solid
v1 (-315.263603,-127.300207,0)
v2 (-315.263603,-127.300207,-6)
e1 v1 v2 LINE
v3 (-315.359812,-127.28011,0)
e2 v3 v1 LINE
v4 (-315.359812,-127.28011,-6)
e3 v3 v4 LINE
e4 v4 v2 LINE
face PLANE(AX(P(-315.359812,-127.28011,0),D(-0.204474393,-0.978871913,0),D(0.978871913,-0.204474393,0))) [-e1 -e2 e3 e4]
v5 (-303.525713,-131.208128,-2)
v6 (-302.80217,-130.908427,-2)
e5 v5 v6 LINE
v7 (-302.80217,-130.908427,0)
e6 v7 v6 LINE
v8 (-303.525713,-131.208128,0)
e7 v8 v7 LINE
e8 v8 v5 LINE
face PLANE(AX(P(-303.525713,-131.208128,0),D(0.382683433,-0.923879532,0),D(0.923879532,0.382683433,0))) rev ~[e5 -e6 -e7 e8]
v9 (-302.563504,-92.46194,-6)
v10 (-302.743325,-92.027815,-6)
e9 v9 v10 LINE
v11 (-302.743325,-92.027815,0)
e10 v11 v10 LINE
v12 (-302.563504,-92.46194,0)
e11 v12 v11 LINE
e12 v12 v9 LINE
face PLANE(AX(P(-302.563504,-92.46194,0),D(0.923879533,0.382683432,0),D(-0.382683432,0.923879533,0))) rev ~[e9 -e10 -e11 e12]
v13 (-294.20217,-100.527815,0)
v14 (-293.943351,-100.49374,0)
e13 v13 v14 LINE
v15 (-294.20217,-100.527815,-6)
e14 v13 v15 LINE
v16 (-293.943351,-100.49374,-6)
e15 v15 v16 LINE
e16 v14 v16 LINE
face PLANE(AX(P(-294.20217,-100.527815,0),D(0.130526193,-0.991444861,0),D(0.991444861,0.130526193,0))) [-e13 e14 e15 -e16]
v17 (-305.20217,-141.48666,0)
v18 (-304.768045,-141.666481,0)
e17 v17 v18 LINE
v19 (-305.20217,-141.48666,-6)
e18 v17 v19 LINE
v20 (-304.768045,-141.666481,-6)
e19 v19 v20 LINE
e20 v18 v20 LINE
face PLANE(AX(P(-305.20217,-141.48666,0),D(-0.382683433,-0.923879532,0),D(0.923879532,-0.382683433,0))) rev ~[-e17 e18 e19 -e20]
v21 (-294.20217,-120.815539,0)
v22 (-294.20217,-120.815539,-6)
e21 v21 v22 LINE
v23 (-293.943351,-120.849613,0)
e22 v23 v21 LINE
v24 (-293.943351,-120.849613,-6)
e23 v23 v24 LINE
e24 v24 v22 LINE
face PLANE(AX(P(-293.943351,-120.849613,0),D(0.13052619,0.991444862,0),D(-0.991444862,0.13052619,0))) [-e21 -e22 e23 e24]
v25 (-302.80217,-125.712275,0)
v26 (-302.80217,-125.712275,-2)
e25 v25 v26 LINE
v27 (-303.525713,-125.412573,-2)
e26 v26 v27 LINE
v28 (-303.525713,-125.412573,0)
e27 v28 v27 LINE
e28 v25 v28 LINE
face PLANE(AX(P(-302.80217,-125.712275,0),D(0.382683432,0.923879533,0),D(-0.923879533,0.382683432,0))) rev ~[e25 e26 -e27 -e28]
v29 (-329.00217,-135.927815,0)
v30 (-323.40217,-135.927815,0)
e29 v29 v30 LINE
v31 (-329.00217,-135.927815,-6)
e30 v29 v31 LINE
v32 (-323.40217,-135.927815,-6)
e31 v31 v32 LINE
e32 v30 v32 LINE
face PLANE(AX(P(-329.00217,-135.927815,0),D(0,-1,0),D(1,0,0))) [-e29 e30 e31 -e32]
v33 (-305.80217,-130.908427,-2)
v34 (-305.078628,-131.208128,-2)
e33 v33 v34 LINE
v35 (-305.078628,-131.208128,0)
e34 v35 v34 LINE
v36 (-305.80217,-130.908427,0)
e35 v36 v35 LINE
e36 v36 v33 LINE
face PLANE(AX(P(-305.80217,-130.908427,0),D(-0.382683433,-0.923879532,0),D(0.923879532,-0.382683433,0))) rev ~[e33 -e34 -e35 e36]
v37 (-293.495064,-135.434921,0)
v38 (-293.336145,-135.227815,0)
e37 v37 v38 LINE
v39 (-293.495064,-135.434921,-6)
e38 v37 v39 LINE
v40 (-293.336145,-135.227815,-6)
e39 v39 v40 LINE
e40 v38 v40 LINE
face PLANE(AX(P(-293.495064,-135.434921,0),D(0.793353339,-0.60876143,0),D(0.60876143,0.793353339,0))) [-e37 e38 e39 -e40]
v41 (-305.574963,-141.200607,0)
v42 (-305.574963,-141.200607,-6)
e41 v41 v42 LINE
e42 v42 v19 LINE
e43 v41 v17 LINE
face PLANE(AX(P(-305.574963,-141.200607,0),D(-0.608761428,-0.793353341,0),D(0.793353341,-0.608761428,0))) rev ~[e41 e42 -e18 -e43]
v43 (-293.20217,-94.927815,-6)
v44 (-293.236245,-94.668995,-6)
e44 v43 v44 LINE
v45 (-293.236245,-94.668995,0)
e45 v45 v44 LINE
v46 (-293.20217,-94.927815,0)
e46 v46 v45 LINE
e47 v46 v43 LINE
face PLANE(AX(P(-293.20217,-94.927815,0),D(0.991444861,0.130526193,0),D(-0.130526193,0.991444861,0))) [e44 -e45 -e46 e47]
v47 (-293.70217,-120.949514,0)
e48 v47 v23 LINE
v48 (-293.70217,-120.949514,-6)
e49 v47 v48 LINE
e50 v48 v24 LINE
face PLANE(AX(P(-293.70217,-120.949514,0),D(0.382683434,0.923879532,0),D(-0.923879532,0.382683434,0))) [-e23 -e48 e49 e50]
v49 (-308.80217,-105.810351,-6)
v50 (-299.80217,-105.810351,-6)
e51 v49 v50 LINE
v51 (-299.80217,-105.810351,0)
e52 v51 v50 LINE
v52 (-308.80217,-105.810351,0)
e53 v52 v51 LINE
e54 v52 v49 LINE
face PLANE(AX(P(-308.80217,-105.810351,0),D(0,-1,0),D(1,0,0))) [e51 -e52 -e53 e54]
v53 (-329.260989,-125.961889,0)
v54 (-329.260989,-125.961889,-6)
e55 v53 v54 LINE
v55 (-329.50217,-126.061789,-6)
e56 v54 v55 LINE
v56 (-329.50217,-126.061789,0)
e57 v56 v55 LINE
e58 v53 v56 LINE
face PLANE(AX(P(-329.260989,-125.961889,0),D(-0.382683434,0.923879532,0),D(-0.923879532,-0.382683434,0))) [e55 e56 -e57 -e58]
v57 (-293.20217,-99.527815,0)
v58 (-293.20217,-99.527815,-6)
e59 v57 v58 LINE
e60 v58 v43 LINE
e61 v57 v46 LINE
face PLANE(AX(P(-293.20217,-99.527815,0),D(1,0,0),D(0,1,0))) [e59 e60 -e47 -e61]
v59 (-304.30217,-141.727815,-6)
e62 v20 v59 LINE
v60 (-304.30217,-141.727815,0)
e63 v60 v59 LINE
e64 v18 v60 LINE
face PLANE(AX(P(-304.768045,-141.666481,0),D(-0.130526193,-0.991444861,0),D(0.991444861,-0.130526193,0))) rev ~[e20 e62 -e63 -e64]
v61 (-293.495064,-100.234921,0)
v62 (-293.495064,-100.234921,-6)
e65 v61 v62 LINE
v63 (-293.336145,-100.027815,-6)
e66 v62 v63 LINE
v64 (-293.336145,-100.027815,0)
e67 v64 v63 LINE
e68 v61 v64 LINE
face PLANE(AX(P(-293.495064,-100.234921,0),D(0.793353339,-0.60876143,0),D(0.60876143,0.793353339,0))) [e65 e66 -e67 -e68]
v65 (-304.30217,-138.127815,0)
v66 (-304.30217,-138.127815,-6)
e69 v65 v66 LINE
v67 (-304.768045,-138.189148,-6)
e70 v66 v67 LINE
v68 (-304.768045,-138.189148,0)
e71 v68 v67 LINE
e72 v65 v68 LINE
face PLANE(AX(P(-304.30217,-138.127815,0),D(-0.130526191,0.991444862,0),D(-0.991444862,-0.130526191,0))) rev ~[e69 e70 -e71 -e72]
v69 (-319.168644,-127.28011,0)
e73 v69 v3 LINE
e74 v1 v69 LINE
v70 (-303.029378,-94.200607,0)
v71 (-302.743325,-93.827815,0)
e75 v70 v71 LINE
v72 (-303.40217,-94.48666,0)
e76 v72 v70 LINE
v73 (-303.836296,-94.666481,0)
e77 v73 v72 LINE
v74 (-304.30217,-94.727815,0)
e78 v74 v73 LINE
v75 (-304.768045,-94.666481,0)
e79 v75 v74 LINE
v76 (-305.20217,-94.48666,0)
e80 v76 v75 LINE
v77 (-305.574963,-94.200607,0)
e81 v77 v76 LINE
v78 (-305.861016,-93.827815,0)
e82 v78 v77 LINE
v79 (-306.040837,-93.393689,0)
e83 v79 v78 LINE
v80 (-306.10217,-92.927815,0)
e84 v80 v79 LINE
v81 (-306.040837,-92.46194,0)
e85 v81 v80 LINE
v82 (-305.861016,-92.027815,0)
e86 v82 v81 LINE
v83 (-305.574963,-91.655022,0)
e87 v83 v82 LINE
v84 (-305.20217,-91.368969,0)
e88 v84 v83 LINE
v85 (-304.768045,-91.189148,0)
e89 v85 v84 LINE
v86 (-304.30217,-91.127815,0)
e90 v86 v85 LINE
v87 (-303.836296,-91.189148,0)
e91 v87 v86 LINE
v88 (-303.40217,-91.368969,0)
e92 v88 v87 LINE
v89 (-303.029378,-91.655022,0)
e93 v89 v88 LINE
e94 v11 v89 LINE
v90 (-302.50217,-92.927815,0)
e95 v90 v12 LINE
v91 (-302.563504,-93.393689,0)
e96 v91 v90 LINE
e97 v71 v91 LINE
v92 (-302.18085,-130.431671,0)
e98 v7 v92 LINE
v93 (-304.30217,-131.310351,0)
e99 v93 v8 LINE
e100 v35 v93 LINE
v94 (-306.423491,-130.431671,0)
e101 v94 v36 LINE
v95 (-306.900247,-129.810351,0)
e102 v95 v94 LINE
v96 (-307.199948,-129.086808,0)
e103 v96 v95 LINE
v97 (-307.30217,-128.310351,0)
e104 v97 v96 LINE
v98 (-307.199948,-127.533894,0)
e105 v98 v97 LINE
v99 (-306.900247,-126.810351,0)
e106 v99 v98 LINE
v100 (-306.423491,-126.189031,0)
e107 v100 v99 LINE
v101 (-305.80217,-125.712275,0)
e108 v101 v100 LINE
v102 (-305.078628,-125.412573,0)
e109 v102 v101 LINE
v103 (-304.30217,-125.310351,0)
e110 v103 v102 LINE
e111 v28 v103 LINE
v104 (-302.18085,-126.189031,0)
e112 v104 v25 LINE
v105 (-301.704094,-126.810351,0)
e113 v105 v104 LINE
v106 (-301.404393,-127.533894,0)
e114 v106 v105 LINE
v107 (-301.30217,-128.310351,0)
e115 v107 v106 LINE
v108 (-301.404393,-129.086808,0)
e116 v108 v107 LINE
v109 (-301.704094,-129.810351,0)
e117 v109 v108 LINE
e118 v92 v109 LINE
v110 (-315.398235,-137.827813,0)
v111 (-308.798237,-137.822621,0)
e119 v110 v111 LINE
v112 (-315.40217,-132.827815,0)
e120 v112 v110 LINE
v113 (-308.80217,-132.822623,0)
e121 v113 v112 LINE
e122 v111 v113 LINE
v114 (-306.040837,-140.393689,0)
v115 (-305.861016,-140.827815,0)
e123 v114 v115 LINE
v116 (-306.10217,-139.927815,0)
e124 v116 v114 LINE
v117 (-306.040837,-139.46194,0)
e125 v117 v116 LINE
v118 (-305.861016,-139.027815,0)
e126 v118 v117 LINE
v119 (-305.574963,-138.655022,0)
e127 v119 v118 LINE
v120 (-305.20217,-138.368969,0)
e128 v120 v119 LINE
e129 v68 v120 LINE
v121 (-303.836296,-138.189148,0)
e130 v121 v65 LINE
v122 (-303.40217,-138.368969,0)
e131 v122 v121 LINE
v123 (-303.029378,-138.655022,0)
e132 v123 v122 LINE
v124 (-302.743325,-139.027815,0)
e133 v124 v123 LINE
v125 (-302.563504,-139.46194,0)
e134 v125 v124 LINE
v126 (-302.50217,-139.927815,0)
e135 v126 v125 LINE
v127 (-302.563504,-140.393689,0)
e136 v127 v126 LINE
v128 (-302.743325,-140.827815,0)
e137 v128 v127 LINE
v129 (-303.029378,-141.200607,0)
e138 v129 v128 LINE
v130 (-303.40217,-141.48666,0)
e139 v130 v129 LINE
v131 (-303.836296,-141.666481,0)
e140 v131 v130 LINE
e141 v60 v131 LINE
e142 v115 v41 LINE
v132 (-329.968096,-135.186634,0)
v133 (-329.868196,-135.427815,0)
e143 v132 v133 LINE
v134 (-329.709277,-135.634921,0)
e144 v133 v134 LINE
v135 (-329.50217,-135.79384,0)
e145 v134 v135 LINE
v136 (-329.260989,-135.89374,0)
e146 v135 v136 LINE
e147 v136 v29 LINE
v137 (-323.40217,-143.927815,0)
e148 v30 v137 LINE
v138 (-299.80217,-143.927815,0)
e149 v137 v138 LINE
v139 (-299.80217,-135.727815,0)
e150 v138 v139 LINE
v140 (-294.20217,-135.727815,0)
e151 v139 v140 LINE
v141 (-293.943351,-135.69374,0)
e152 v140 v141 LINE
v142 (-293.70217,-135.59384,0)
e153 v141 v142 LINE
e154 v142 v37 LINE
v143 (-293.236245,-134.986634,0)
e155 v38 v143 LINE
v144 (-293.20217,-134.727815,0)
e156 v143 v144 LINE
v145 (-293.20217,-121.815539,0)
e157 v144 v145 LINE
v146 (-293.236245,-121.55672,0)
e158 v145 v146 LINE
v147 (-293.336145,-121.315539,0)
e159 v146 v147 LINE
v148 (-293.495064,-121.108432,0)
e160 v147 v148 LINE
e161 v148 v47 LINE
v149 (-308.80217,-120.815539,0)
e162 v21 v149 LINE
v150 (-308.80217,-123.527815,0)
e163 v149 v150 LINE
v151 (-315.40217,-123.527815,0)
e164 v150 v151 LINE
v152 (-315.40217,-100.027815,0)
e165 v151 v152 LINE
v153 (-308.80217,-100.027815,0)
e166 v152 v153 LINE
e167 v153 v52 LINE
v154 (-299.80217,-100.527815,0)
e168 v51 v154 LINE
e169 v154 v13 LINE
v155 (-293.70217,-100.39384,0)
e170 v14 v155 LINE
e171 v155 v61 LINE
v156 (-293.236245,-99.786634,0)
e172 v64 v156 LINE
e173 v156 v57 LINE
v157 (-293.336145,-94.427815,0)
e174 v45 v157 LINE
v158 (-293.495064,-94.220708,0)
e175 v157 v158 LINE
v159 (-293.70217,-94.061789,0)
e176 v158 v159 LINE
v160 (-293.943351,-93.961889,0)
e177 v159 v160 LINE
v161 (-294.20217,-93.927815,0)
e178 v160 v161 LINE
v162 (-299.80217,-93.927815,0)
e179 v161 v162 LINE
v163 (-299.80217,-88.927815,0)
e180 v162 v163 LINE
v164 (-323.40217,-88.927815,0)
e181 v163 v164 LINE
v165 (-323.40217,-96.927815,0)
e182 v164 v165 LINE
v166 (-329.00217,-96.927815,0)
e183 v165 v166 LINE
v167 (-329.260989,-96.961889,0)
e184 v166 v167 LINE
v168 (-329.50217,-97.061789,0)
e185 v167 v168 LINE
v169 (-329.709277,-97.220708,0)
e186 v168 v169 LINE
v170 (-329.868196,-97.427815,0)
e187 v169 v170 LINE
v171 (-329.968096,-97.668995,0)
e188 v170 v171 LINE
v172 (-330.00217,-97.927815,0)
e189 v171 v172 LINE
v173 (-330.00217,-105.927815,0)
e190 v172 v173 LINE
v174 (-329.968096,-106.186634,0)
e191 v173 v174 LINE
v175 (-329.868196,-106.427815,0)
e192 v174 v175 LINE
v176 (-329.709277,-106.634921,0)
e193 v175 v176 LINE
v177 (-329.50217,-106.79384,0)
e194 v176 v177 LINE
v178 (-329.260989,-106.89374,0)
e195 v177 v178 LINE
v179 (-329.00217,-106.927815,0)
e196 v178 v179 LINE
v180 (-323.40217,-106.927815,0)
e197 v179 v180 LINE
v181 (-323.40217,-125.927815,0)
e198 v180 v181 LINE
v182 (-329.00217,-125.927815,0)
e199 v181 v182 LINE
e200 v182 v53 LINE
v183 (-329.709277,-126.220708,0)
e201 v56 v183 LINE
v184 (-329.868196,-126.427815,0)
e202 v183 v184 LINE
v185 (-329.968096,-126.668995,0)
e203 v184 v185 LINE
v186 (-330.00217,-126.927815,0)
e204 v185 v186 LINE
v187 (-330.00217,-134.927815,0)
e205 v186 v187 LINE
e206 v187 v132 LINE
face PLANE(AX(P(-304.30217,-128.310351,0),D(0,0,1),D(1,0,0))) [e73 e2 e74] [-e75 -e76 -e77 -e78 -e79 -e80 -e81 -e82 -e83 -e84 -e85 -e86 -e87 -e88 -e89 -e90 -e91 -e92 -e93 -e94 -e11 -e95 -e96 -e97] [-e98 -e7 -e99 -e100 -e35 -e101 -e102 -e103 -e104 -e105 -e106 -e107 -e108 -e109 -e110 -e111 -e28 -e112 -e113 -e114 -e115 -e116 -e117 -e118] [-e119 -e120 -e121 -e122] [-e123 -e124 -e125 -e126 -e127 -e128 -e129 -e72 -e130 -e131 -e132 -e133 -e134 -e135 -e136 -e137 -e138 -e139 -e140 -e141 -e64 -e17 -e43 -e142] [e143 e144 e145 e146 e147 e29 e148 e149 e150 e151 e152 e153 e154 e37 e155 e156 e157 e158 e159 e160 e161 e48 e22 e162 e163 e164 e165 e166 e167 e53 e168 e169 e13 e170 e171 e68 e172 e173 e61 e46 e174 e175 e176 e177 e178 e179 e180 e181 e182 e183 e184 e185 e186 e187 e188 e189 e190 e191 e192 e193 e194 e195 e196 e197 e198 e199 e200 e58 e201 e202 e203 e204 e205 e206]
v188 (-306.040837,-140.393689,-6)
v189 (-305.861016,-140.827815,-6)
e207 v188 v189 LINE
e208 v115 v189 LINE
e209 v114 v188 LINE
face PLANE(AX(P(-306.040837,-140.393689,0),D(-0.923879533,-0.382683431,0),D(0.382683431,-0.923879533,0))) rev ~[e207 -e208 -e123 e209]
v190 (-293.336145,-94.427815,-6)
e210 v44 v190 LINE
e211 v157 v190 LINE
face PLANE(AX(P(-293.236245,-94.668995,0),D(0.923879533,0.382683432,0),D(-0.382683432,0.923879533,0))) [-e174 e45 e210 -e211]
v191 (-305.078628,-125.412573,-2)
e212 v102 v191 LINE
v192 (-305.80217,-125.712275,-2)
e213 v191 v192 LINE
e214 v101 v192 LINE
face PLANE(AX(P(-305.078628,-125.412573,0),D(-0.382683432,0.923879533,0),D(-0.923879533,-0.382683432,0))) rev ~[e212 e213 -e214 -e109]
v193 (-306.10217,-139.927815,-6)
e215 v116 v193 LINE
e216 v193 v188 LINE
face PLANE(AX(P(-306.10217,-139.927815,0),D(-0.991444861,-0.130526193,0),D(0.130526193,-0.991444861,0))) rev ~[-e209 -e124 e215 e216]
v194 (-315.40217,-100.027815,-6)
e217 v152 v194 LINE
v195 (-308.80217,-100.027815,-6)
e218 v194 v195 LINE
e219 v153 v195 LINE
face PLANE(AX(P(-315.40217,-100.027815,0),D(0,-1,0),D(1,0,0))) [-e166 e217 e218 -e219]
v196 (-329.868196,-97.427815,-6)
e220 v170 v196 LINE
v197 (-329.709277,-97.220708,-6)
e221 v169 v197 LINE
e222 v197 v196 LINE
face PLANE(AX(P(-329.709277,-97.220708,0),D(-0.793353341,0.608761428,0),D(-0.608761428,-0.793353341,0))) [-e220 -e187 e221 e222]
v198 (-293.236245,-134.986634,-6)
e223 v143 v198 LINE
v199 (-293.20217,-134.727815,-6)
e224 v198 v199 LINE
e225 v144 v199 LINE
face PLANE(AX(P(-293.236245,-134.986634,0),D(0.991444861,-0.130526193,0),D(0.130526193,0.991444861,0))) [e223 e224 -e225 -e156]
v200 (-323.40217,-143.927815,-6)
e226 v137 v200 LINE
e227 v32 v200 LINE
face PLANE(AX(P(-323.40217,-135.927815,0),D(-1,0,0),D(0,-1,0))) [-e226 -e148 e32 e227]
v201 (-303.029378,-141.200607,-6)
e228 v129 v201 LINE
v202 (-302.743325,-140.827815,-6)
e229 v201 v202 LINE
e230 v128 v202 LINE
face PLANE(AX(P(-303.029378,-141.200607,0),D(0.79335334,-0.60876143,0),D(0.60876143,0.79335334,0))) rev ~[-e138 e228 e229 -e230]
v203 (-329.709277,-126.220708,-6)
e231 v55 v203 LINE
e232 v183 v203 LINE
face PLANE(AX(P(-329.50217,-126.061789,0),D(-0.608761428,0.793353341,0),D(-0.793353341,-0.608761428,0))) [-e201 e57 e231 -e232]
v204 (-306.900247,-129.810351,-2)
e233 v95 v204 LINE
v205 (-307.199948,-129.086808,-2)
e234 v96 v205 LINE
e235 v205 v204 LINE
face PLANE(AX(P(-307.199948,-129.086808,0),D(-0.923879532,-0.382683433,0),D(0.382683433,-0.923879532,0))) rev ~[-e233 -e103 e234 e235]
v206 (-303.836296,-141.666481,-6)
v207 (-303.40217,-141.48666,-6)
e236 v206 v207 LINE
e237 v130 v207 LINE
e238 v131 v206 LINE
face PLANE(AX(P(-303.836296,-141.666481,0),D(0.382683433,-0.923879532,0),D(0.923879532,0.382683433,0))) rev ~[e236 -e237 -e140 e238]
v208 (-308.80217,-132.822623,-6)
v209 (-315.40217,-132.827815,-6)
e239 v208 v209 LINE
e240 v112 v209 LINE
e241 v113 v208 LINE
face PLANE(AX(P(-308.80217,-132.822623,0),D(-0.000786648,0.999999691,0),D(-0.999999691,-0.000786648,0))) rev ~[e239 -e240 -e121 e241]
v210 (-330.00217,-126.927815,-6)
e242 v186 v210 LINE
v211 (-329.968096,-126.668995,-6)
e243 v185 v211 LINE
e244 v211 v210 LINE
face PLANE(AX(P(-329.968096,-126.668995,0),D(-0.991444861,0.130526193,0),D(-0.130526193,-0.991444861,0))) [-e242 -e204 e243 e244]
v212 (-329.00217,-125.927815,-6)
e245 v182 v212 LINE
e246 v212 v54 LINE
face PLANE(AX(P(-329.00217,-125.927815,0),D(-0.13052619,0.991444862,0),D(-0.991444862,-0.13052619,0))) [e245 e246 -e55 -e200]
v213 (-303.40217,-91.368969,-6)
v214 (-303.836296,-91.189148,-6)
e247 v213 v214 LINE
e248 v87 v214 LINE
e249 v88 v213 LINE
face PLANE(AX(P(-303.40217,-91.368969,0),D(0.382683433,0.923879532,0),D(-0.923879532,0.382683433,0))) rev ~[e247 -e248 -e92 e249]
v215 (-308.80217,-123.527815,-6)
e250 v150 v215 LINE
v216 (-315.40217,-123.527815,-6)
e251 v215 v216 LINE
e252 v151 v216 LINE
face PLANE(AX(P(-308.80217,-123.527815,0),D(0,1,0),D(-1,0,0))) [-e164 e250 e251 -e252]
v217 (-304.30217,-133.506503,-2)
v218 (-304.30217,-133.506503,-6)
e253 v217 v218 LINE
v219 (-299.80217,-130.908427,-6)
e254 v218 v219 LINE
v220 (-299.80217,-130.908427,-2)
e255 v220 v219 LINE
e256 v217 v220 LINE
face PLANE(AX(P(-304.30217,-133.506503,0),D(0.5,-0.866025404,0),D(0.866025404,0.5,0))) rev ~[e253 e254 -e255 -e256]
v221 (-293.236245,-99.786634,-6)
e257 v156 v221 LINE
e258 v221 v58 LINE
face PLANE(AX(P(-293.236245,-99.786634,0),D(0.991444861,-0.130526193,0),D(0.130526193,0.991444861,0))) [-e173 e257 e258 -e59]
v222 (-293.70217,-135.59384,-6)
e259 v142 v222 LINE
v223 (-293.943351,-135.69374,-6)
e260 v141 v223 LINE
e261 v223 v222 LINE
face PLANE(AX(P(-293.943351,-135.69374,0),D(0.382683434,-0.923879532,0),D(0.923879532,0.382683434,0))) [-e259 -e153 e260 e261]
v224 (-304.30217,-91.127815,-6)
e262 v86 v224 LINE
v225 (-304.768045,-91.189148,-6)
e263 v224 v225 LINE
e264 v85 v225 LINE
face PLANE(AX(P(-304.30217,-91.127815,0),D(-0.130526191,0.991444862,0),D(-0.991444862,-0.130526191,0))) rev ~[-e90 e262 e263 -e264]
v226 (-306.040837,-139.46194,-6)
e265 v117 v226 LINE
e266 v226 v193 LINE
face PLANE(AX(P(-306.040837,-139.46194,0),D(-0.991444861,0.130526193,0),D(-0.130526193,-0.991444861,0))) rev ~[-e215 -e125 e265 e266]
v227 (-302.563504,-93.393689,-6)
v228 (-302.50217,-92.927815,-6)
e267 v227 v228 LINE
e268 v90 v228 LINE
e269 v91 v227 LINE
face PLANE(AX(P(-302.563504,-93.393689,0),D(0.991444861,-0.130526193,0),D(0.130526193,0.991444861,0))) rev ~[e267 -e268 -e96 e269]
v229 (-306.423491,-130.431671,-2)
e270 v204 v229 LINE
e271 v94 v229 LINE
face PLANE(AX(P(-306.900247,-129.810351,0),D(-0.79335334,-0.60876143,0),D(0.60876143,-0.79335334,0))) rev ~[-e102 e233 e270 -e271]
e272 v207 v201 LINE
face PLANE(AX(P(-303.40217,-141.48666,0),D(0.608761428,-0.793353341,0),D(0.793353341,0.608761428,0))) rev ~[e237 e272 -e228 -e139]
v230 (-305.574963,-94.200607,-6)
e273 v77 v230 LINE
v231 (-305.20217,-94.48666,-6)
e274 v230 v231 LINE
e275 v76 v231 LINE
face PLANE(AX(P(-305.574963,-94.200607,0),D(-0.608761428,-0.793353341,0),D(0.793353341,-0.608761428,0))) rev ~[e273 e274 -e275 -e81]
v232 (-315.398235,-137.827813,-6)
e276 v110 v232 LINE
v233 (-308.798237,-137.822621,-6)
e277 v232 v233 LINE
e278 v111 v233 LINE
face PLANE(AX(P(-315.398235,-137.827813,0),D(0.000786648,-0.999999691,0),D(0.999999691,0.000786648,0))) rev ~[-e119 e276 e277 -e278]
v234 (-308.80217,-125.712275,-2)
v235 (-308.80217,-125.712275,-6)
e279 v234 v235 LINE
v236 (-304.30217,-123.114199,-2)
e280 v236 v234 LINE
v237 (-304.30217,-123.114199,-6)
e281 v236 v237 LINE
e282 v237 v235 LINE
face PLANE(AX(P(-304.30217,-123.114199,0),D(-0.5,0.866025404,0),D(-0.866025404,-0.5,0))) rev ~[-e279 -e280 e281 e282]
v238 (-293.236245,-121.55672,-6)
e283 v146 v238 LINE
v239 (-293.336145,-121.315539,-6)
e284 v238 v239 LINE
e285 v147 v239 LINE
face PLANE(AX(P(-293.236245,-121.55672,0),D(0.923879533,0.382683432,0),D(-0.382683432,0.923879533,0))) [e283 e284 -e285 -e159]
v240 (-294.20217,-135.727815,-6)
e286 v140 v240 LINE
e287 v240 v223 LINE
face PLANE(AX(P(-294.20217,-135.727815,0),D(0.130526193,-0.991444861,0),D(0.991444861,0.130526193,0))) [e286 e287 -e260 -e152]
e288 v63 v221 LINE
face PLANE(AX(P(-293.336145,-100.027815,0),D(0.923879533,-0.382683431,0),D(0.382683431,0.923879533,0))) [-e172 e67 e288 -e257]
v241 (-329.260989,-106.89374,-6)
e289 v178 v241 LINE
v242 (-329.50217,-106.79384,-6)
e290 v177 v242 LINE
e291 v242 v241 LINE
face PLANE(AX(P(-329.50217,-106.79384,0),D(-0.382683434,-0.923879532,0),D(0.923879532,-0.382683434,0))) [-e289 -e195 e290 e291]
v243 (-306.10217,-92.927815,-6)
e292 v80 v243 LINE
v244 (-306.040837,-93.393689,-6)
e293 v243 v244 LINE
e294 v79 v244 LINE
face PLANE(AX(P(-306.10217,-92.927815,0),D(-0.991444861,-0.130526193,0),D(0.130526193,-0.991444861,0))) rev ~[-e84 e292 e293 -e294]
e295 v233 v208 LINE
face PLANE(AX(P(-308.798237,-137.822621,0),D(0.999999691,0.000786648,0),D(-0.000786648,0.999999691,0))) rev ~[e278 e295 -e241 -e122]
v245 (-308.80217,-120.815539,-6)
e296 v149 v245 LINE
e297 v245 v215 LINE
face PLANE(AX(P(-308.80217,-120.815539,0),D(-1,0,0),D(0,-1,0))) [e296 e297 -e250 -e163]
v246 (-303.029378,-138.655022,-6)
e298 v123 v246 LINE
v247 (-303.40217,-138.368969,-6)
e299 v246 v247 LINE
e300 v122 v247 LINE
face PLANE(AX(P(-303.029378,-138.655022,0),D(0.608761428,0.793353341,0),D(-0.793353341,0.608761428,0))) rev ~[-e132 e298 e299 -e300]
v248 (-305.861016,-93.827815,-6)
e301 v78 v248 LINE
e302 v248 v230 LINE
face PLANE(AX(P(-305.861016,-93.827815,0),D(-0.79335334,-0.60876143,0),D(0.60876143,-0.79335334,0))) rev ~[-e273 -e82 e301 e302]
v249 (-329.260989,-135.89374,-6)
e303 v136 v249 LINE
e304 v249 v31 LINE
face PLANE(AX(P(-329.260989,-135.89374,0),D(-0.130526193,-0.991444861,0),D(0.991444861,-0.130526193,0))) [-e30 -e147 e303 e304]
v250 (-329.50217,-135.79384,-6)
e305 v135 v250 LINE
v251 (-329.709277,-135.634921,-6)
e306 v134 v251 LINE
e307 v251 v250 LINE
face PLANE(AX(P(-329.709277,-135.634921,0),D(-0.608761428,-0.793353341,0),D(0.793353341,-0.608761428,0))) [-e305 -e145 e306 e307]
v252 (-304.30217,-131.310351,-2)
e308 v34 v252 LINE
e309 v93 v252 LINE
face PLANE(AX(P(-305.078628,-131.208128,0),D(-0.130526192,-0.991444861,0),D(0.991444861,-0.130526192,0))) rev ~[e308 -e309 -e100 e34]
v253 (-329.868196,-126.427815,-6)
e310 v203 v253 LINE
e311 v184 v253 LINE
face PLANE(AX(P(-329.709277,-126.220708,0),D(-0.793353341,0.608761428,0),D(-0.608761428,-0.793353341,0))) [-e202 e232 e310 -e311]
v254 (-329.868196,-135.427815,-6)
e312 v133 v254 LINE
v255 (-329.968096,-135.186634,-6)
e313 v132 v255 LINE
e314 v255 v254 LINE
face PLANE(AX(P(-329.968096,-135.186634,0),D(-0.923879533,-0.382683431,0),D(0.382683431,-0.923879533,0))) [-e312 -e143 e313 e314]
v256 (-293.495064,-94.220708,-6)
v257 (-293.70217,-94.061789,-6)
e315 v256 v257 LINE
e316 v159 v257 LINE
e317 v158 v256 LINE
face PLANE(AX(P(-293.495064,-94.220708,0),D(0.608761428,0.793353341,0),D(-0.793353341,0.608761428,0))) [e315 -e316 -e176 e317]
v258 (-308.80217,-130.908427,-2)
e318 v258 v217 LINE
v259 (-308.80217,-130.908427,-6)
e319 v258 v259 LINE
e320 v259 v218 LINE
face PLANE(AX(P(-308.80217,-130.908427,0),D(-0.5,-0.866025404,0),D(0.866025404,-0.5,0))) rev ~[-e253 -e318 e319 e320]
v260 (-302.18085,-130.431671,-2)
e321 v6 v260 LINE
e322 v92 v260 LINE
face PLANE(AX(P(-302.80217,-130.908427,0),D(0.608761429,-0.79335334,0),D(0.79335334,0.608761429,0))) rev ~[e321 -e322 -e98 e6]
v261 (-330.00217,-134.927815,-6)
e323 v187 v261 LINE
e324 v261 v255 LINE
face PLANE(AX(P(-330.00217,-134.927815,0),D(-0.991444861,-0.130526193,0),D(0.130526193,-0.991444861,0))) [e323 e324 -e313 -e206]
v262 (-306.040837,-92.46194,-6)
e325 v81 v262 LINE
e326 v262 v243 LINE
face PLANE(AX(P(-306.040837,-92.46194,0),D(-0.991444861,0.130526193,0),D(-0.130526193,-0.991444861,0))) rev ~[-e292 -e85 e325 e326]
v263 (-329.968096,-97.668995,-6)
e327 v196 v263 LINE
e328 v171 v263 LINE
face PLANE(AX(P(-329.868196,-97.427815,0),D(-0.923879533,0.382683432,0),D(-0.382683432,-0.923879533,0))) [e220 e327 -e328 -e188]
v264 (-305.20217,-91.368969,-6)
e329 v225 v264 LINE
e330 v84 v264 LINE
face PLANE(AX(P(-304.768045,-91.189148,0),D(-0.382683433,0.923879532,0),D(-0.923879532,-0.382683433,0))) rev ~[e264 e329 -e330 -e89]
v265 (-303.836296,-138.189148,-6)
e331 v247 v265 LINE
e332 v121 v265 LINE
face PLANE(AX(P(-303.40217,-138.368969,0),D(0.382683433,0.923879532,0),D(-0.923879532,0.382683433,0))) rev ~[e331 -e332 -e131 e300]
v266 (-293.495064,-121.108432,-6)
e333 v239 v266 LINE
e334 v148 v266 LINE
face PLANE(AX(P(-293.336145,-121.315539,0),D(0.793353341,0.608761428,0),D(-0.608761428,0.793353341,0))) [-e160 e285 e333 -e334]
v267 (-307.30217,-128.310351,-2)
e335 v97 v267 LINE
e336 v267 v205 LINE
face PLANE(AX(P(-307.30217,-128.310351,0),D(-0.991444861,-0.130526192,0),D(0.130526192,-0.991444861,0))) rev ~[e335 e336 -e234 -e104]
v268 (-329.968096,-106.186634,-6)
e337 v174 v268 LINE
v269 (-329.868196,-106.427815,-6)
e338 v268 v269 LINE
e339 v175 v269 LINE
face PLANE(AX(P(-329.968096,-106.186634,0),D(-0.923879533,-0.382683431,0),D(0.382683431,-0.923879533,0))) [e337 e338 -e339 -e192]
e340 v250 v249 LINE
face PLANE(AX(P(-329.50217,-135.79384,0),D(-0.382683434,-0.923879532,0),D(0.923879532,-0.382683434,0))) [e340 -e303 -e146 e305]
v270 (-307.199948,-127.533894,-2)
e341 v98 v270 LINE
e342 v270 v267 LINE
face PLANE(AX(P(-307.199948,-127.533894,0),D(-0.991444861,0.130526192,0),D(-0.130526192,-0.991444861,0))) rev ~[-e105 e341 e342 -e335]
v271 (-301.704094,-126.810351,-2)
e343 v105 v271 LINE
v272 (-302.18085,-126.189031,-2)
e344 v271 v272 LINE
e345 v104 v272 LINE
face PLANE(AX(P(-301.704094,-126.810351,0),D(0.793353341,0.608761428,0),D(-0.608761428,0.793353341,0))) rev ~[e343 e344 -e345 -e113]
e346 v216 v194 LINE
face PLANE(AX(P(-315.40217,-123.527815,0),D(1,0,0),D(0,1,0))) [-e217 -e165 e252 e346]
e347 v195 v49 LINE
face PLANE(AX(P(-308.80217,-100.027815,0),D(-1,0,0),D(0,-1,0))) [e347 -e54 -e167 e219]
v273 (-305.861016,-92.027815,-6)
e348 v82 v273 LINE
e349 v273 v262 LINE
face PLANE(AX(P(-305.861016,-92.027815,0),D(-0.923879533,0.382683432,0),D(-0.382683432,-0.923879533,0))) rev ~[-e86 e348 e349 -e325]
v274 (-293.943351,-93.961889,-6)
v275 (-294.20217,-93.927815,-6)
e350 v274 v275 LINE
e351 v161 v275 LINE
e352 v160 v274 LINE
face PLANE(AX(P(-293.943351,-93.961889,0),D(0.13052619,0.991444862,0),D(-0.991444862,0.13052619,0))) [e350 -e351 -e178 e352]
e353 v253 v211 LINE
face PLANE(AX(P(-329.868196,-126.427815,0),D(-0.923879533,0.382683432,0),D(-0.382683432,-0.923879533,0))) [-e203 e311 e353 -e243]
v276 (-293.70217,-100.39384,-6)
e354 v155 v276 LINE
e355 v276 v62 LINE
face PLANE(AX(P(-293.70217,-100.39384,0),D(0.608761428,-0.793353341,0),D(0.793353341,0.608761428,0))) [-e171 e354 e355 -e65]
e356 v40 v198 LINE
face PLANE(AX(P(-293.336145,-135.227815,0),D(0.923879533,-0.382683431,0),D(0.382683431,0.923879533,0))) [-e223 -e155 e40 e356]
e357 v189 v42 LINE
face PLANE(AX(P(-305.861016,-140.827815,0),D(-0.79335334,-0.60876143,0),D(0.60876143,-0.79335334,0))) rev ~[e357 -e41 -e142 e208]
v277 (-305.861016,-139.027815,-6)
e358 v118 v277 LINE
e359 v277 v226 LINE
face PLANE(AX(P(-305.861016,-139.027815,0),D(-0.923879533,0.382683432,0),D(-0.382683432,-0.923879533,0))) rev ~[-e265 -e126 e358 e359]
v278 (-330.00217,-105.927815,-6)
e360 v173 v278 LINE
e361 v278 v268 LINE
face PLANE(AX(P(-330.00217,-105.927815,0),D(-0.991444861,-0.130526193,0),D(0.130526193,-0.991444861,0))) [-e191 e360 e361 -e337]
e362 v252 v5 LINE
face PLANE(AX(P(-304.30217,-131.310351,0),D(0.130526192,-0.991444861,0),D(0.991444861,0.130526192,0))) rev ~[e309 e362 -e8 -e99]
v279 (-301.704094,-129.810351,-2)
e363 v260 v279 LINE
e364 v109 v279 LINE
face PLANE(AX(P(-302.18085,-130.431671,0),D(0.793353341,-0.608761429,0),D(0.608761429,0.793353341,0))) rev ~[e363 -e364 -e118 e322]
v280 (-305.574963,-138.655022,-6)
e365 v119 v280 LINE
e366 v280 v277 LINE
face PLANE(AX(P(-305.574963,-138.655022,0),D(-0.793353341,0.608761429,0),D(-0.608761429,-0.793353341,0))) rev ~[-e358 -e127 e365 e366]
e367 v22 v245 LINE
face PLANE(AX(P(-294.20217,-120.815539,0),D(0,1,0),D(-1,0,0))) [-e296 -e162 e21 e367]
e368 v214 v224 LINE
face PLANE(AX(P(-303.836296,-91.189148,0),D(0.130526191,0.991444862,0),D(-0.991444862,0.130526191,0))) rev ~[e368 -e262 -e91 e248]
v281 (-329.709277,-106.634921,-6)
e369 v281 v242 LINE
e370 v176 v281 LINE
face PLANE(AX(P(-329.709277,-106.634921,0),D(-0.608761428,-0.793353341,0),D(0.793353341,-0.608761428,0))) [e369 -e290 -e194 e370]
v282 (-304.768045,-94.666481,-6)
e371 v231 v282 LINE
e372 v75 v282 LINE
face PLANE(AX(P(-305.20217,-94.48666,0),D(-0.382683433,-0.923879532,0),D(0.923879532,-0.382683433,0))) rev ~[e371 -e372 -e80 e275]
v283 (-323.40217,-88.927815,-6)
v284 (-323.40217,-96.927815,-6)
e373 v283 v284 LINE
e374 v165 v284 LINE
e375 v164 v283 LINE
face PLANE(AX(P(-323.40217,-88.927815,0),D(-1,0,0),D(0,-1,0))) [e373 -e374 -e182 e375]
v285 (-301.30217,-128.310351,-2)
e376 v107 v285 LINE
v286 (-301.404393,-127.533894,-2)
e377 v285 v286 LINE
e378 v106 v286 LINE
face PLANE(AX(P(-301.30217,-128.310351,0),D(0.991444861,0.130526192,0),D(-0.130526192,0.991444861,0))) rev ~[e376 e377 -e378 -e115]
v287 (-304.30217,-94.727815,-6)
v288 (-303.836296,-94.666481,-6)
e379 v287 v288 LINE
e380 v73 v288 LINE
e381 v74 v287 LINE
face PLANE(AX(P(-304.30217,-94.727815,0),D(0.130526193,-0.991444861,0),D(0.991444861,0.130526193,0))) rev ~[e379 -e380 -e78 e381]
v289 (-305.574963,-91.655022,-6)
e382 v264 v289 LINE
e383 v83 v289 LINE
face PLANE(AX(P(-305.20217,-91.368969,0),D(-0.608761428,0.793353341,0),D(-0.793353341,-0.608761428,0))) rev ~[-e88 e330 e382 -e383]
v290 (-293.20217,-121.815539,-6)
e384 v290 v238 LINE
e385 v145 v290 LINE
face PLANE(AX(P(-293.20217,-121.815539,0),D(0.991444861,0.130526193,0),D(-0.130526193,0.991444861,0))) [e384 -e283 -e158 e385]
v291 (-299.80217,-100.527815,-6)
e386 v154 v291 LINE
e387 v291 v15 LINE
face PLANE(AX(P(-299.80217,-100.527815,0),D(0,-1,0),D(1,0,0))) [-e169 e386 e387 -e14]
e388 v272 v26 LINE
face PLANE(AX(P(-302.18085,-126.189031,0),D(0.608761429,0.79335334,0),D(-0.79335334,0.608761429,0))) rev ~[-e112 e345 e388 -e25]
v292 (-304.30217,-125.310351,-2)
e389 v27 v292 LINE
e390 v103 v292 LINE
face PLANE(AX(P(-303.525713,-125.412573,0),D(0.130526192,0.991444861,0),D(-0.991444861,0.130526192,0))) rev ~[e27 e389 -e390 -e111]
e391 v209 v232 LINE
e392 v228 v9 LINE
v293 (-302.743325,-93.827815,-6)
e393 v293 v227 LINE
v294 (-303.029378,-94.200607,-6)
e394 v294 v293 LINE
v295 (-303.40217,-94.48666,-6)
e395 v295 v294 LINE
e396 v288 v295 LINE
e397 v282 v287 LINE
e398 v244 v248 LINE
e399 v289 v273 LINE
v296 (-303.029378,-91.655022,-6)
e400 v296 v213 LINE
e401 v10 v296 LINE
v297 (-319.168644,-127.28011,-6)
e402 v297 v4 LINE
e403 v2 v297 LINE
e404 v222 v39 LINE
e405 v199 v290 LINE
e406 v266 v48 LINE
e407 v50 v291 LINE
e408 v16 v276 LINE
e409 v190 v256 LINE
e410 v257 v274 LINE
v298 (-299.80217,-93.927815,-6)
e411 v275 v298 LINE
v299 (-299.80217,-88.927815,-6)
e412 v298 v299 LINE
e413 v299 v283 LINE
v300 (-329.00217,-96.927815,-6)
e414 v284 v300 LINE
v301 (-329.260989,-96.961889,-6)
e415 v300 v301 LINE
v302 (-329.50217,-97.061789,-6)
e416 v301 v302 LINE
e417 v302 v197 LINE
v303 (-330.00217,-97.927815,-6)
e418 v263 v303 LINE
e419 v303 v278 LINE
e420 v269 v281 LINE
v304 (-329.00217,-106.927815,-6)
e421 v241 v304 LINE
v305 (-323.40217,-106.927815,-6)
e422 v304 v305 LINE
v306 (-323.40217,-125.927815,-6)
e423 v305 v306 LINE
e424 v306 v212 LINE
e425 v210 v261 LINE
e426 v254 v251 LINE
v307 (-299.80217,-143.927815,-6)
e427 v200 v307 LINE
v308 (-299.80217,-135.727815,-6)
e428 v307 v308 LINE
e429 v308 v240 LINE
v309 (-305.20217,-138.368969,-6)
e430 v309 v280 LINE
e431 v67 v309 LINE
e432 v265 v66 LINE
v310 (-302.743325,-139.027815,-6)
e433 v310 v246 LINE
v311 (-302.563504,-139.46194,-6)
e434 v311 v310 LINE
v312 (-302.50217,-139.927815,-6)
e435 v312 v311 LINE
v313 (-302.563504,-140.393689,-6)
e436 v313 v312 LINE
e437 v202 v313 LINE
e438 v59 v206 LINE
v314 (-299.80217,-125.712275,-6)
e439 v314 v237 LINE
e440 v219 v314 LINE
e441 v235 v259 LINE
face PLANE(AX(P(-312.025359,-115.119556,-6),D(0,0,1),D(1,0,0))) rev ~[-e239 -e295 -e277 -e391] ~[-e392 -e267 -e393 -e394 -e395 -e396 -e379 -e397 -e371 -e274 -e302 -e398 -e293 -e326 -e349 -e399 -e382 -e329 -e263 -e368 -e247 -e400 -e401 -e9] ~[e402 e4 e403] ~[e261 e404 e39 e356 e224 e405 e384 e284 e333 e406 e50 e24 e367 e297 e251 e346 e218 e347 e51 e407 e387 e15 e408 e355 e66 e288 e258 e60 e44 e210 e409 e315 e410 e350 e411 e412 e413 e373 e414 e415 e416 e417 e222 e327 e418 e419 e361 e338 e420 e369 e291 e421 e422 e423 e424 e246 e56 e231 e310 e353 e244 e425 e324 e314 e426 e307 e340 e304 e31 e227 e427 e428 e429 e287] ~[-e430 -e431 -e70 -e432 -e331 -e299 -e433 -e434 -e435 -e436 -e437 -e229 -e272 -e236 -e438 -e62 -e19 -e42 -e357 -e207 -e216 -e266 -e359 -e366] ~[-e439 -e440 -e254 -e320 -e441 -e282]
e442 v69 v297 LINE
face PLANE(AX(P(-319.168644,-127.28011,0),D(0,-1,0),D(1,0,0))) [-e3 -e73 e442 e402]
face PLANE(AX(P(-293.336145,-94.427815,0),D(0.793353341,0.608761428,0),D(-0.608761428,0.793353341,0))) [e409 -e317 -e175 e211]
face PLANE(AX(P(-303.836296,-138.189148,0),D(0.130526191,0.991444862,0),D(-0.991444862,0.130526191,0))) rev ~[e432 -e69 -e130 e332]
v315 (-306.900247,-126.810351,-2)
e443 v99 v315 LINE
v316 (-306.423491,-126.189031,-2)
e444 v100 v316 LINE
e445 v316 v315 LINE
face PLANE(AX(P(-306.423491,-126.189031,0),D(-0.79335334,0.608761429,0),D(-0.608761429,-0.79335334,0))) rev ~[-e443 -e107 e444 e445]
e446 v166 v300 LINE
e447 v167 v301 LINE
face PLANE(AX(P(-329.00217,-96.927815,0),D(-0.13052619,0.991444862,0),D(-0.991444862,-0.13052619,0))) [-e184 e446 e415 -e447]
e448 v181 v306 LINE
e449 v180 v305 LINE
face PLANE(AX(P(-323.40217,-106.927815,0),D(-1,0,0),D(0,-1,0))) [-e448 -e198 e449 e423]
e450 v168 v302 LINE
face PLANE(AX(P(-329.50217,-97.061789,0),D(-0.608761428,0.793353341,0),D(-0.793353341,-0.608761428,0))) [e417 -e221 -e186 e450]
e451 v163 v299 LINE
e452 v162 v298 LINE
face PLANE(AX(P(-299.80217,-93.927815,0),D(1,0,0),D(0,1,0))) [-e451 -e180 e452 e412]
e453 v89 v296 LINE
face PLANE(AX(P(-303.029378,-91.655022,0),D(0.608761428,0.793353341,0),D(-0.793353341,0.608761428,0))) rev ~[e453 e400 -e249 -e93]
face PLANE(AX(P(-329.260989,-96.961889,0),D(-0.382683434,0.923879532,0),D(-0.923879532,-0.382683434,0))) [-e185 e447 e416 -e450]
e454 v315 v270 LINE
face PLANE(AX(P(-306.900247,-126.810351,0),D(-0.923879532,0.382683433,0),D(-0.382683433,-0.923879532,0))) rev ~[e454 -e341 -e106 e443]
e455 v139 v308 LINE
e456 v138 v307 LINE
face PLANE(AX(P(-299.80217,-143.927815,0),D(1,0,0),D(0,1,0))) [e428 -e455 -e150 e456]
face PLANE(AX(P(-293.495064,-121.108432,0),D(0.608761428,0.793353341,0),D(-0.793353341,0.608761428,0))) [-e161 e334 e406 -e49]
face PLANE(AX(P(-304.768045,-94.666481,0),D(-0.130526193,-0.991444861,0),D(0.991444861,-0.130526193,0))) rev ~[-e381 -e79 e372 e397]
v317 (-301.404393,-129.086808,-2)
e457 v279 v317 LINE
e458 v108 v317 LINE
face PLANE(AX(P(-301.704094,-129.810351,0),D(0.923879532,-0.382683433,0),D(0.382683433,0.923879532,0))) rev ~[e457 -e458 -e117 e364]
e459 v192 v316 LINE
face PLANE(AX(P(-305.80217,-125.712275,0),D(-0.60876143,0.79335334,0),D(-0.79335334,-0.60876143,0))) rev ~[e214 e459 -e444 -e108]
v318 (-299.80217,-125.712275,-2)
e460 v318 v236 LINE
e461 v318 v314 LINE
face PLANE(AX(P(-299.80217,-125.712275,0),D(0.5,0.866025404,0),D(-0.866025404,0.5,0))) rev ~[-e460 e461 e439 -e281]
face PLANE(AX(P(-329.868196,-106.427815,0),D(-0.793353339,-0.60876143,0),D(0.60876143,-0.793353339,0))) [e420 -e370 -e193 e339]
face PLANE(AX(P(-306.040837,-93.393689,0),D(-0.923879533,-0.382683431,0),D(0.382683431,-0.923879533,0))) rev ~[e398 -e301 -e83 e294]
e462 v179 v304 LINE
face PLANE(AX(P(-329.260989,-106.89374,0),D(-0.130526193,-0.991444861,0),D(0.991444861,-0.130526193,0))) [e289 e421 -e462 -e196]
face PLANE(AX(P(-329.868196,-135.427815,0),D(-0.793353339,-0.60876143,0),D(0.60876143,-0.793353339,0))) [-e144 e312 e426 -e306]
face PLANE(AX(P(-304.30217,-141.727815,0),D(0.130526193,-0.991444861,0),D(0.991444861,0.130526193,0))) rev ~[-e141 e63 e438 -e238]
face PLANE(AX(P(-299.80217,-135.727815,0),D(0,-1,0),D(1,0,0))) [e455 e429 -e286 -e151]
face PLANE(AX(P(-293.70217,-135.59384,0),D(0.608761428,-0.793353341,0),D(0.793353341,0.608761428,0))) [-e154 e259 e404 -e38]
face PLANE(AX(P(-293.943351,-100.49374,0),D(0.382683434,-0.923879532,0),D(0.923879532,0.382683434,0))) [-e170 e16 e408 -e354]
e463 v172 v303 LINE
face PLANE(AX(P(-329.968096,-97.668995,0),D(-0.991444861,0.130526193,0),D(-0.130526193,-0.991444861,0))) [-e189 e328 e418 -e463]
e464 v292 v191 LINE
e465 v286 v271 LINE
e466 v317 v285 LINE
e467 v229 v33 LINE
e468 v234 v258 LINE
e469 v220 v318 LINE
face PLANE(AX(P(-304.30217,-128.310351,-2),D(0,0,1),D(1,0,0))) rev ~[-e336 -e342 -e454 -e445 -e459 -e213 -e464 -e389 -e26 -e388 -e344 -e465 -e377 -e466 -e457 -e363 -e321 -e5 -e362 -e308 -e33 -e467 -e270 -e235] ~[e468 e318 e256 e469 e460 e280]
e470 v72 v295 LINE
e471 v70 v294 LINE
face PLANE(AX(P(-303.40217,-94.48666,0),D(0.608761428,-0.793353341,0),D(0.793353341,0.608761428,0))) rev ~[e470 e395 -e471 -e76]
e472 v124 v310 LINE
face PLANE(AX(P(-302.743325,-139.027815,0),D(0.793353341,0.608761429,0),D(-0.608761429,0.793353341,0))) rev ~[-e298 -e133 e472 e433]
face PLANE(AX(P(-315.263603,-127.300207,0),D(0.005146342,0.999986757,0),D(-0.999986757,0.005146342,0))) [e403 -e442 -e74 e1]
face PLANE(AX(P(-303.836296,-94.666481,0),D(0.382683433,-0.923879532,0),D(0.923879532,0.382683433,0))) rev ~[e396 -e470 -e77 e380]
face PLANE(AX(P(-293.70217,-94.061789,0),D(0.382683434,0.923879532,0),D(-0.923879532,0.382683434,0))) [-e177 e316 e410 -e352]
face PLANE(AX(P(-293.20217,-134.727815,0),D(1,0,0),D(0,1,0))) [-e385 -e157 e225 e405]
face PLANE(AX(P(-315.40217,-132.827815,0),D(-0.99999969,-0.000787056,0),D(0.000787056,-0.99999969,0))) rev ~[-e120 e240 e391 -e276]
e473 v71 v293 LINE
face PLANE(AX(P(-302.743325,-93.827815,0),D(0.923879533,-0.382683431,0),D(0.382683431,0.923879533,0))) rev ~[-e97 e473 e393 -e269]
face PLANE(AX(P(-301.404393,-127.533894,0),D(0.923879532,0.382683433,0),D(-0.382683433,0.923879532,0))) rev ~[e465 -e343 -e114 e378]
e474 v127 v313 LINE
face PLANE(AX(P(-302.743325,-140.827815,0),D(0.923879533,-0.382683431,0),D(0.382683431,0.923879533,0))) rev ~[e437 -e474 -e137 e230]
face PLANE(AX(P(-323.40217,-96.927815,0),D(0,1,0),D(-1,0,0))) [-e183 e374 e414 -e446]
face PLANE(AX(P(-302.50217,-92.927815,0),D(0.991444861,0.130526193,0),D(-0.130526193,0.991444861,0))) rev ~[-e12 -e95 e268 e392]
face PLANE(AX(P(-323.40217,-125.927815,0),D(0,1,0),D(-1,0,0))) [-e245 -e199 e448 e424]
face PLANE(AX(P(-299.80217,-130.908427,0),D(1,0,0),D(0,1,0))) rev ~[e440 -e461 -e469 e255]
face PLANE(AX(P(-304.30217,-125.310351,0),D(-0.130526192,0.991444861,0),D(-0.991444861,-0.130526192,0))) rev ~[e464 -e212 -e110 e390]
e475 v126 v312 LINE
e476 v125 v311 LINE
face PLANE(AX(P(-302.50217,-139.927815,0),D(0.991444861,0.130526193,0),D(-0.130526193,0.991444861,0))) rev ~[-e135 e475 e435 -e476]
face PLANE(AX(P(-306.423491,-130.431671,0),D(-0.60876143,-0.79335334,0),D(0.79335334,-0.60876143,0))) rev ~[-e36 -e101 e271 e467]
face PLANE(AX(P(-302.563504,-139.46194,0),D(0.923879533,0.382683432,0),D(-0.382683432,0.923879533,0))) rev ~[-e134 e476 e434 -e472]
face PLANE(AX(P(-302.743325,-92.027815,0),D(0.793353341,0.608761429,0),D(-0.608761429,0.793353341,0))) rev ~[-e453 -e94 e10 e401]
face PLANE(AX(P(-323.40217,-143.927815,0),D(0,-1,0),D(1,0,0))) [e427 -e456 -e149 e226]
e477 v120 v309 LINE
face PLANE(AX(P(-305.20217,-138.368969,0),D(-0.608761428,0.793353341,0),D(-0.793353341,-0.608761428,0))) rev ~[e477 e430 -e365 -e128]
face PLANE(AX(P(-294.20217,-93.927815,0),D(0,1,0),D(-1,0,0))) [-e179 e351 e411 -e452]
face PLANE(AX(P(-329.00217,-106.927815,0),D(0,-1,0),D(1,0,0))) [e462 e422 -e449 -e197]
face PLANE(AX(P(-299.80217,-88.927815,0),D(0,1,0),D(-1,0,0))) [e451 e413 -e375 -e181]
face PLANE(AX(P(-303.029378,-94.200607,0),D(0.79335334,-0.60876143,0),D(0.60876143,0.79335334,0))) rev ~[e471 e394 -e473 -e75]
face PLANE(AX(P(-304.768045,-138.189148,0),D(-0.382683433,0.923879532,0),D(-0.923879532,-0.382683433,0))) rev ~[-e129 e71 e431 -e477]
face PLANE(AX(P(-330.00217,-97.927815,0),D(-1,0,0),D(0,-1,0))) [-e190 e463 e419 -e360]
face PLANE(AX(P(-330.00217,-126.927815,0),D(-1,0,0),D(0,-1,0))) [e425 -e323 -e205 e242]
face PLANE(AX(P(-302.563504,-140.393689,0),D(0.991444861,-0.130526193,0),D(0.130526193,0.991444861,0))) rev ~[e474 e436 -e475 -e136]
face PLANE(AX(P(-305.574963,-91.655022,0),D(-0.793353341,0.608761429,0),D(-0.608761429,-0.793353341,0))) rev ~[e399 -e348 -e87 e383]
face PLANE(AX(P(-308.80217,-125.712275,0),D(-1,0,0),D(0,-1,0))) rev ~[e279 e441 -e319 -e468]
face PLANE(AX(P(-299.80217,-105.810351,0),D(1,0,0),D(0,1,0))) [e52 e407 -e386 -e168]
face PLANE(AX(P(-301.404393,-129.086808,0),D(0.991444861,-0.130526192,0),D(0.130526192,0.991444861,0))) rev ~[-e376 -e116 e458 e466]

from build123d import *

# Parameters (mm, degrees)
BOSS_EXTRUDE1_DEPTH = 6
BOSS_EXTRUDE2_DEPTH = 2


with BuildPart() as part:
    # Sketch1 → Boss-Extrude1 (new body)
    with BuildSketch(Plane.XY):
        Polygon((-293.236244564, -121.556720051), (-293.336144986, -121.315539097), (-293.495063609, -121.108432315), (-293.70217039, -120.949513693), (-293.943351345, -120.84961327), (-294.20217039, -120.815539097), (-308.80217039, -120.815539097), (-308.80217039, -123.527814521), (-315.40217039, -123.527814521), (-315.40217039, -100.027814521), (-308.80217039, -100.027814521), (-308.80217039, -105.810350932), (-299.80217039, -105.810350932), (-299.80217039, -100.527814521), (-294.20217039, -100.527814521), (-293.943351345, -100.493740347), (-293.70217039, -100.393839924), (-293.495063609, -100.234921302), (-293.336144986, -100.027814521), (-293.236244564, -99.786633566), (-293.20217039, -99.527814521), (-293.20217039, -94.927814521), (-293.236244564, -94.668995475), (-293.336144986, -94.427814521), (-293.495063609, -94.220707739), (-293.70217039, -94.061789117), (-293.943351345, -93.961888694), (-294.20217039, -93.927814521), (-299.80217039, -93.927814521), (-299.80217039, -88.927814521), (-323.40217039, -88.927814521), (-323.40217039, -96.927814521), (-329.00217039, -96.927814521), (-329.260989435, -96.961888694), (-329.50217039, -97.061789117), (-329.709277171, -97.220707739), (-329.868195794, -97.427814521), (-329.968096216, -97.668995475), (-330.00217039, -97.927814521), (-330.00217039, -105.927814521), (-329.968096216, -106.186633566), (-329.868195794, -106.427814521), (-329.709277171, -106.634921302), (-329.50217039, -106.793839924), (-329.260989435, -106.893740347), (-329.00217039, -106.927814521), (-323.40217039, -106.927814521), (-323.40217039, -125.927814521), (-329.00217039, -125.927814521), (-329.260989435, -125.961888694), (-329.50217039, -126.061789117), (-329.709277171, -126.220707739), (-329.868195794, -126.427814521), (-329.968096216, -126.668995475), (-330.00217039, -126.927814521), (-330.00217039, -134.927814521), (-329.968096216, -135.186633566), (-329.868195794, -135.427814521), (-329.709277171, -135.634921302), (-329.50217039, -135.793839924), (-329.260989435, -135.893740347), (-329.00217039, -135.927814521), (-323.40217039, -135.927814521), (-323.40217039, -143.927814521), (-299.80217039, -143.927814521), (-299.80217039, -135.727814521), (-294.20217039, -135.727814521), (-293.943351345, -135.693740347), (-293.70217039, -135.593839924), (-293.495063609, -135.434921302), (-293.336144986, -135.227814521), (-293.236244564, -134.986633566), (-293.20217039, -134.727814521), (-293.20217039, -121.815539097), align=None)
        Polygon((-302.743324663, -140.827814521), (-302.563503903, -140.393688802), (-302.50217039, -139.927814521), (-302.563503903, -139.461940239), (-302.743324663, -139.027814521), (-303.029378184, -138.655022314), (-303.40217039, -138.368968794), (-303.836296109, -138.189148033), (-304.30217039, -138.127814521), (-304.768044671, -138.189148033), (-305.20217039, -138.368968794), (-305.574962596, -138.655022314), (-305.861016117, -139.027814521), (-306.040836877, -139.461940239), (-306.10217039, -139.927814521), (-306.040836877, -140.393688802), (-305.861016117, -140.827814521), (-305.574962596, -141.200606727), (-305.20217039, -141.486660247), (-304.768044671, -141.666481008), (-304.30217039, -141.727814521), (-303.836296109, -141.666481008), (-303.40217039, -141.486660247), (-303.029378184, -141.200606727), align=None, mode=Mode.SUBTRACT)
        Polygon((-305.861016117, -93.827814521), (-305.574962596, -94.200606727), (-305.20217039, -94.486660247), (-304.768044671, -94.666481008), (-304.30217039, -94.727814521), (-303.836296109, -94.666481008), (-303.40217039, -94.486660247), (-303.029378184, -94.200606727), (-302.743324663, -93.827814521), (-302.563503903, -93.393688802), (-302.50217039, -92.927814521), (-302.563503903, -92.461940239), (-302.743324663, -92.027814521), (-303.029378184, -91.655022314), (-303.40217039, -91.368968794), (-303.836296109, -91.189148033), (-304.30217039, -91.127814521), (-304.768044671, -91.189148033), (-305.20217039, -91.368968794), (-305.574962596, -91.655022314), (-305.861016117, -92.027814521), (-306.040836877, -92.461940239), (-306.10217039, -92.927814521), (-306.040836877, -93.393688802), align=None, mode=Mode.SUBTRACT)
        Polygon((-315.40217039, -132.827814521), (-315.398235108, -137.827812972), (-308.79823715, -137.822621096), (-308.80217039, -132.822622643), align=None, mode=Mode.SUBTRACT)
        Polygon((-308.80217039, -130.908427143), (-304.30217039, -133.506503354), (-299.80217039, -130.908427143), (-299.80217039, -125.71227472), (-304.30217039, -123.114198509), (-308.80217039, -125.71227472), align=None, mode=Mode.SUBTRACT)
        Polygon((-315.359812177, -127.280109863), (-315.263602907, -127.300206805), (-319.168644113, -127.280109863), align=None, mode=Mode.SUBTRACT)
    extrude(amount=-BOSS_EXTRUDE1_DEPTH)

    # Sketch1_3 → Boss-Extrude2 (add)
    with BuildSketch(Plane.XY):
        Polygon((-304.30217039, -123.114198509), (-308.80217039, -125.71227472), (-308.80217039, -130.908427143), (-304.30217039, -133.506503354), (-299.80217039, -130.908427143), (-299.80217039, -125.71227472), align=None)
        Polygon((-308.60217039, -130.792957089), (-304.30217039, -133.275563247), (-300.00217039, -130.792957089), (-300.00217039, -125.827744774), (-304.30217039, -123.345138617), (-308.60217039, -125.827744774), align=None, mode=Mode.SUBTRACT)
        Polygon((-308.60217039, -125.827744774), (-308.60217039, -130.792957089), (-304.30217039, -133.275563247), (-300.00217039, -130.792957089), (-300.00217039, -125.827744774), (-304.30217039, -123.345138617), align=None)
        Polygon((-304.30217039, -123.576078724), (-308.40217039, -125.943214828), (-308.40217039, -130.677487035), (-304.30217039, -133.044623139), (-300.20217039, -130.677487035), (-300.20217039, -125.943214828), align=None, mode=Mode.SUBTRACT)
        Polygon((-300.20217039, -125.943214828), (-304.30217039, -123.576078724), (-308.40217039, -125.943214828), (-308.40217039, -130.677487035), (-304.30217039, -133.044623139), (-300.20217039, -130.677487035), align=None)
        Polygon((-300.40217039, -126.058684882), (-304.30217039, -123.807018832), (-308.20217039, -126.058684882), (-308.20217039, -130.562016981), (-304.30217039, -132.813683031), (-300.40217039, -130.562016981), align=None, mode=Mode.SUBTRACT)
        Polygon((-300.40217039, -130.562016981), (-300.40217039, -126.058684882), (-304.30217039, -123.807018832), (-308.20217039, -126.058684882), (-308.20217039, -130.562016981), (-304.30217039, -132.813683031), align=None)
        Polygon((-300.60217039, -126.174154936), (-304.30217039, -124.03795894), (-308.00217039, -126.174154936), (-308.00217039, -130.446546928), (-304.30217039, -132.582742924), (-300.60217039, -130.446546928), align=None, mode=Mode.SUBTRACT)
        Polygon((-300.60217039, -130.446546928), (-300.60217039, -126.174154936), (-304.30217039, -124.03795894), (-308.00217039, -126.174154936), (-308.00217039, -130.446546928), (-304.30217039, -132.582742924), align=None)
        Polygon((-307.80217039, -130.331076874), (-304.30217039, -132.351802816), (-300.80217039, -130.331076874), (-300.80217039, -126.289624989), (-304.30217039, -124.268899047), (-307.80217039, -126.289624989), align=None, mode=Mode.SUBTRACT)
        Polygon((-307.80217039, -126.289624989), (-307.80217039, -130.331076874), (-304.30217039, -132.351802816), (-300.80217039, -130.331076874), (-300.80217039, -126.289624989), (-304.30217039, -124.268899047), align=None)
        Polygon((-301.00217039, -126.405095043), (-304.30217039, -124.499839155), (-307.60217039, -126.405095043), (-307.60217039, -130.21560682), (-304.30217039, -132.120862708), (-301.00217039, -130.21560682), align=None, mode=Mode.SUBTRACT)
        Polygon((-301.00217039, -130.21560682), (-301.00217039, -126.405095043), (-304.30217039, -124.499839155), (-307.60217039, -126.405095043), (-307.60217039, -130.21560682), (-304.30217039, -132.120862708), align=None)
        Polygon((-307.40217039, -130.100136766), (-304.30217039, -131.889922601), (-301.20217039, -130.100136766), (-301.20217039, -126.520565097), (-304.30217039, -124.730779263), (-307.40217039, -126.520565097), align=None, mode=Mode.SUBTRACT)
        Polygon((-307.40217039, -126.520565097), (-307.40217039, -130.100136766), (-304.30217039, -131.889922601), (-301.20217039, -130.100136766), (-301.20217039, -126.520565097), (-304.30217039, -124.730779263), align=None)
        Polygon((-302.180850046, -130.431671275), (-301.704094179, -129.810350932), (-301.404392911, -129.086808067), (-301.30217039, -128.310350932), (-301.404392911, -127.533893796), (-301.704094179, -126.810350932), (-302.180850046, -126.189030588), (-302.80217039, -125.71227472), (-303.525713255, -125.412573453), (-304.30217039, -125.310350932), (-305.078627525, -125.412573453), (-305.80217039, -125.71227472), (-306.423490733, -126.189030588), (-306.900246601, -126.810350932), (-307.199947869, -127.533893796), (-307.30217039, -128.310350932), (-307.199947869, -129.086808067), (-306.900246601, -129.810350932), (-306.423490733, -130.431671275), (-305.80217039, -130.908427143), (-305.078627525, -131.208128411), (-304.30217039, -131.310350932), (-303.525713255, -131.208128411), (-302.80217039, -130.908427143), align=None, mode=Mode.SUBTRACT)
    extrude(amount=-BOSS_EXTRUDE2_DEPTH)


solid = part.part
